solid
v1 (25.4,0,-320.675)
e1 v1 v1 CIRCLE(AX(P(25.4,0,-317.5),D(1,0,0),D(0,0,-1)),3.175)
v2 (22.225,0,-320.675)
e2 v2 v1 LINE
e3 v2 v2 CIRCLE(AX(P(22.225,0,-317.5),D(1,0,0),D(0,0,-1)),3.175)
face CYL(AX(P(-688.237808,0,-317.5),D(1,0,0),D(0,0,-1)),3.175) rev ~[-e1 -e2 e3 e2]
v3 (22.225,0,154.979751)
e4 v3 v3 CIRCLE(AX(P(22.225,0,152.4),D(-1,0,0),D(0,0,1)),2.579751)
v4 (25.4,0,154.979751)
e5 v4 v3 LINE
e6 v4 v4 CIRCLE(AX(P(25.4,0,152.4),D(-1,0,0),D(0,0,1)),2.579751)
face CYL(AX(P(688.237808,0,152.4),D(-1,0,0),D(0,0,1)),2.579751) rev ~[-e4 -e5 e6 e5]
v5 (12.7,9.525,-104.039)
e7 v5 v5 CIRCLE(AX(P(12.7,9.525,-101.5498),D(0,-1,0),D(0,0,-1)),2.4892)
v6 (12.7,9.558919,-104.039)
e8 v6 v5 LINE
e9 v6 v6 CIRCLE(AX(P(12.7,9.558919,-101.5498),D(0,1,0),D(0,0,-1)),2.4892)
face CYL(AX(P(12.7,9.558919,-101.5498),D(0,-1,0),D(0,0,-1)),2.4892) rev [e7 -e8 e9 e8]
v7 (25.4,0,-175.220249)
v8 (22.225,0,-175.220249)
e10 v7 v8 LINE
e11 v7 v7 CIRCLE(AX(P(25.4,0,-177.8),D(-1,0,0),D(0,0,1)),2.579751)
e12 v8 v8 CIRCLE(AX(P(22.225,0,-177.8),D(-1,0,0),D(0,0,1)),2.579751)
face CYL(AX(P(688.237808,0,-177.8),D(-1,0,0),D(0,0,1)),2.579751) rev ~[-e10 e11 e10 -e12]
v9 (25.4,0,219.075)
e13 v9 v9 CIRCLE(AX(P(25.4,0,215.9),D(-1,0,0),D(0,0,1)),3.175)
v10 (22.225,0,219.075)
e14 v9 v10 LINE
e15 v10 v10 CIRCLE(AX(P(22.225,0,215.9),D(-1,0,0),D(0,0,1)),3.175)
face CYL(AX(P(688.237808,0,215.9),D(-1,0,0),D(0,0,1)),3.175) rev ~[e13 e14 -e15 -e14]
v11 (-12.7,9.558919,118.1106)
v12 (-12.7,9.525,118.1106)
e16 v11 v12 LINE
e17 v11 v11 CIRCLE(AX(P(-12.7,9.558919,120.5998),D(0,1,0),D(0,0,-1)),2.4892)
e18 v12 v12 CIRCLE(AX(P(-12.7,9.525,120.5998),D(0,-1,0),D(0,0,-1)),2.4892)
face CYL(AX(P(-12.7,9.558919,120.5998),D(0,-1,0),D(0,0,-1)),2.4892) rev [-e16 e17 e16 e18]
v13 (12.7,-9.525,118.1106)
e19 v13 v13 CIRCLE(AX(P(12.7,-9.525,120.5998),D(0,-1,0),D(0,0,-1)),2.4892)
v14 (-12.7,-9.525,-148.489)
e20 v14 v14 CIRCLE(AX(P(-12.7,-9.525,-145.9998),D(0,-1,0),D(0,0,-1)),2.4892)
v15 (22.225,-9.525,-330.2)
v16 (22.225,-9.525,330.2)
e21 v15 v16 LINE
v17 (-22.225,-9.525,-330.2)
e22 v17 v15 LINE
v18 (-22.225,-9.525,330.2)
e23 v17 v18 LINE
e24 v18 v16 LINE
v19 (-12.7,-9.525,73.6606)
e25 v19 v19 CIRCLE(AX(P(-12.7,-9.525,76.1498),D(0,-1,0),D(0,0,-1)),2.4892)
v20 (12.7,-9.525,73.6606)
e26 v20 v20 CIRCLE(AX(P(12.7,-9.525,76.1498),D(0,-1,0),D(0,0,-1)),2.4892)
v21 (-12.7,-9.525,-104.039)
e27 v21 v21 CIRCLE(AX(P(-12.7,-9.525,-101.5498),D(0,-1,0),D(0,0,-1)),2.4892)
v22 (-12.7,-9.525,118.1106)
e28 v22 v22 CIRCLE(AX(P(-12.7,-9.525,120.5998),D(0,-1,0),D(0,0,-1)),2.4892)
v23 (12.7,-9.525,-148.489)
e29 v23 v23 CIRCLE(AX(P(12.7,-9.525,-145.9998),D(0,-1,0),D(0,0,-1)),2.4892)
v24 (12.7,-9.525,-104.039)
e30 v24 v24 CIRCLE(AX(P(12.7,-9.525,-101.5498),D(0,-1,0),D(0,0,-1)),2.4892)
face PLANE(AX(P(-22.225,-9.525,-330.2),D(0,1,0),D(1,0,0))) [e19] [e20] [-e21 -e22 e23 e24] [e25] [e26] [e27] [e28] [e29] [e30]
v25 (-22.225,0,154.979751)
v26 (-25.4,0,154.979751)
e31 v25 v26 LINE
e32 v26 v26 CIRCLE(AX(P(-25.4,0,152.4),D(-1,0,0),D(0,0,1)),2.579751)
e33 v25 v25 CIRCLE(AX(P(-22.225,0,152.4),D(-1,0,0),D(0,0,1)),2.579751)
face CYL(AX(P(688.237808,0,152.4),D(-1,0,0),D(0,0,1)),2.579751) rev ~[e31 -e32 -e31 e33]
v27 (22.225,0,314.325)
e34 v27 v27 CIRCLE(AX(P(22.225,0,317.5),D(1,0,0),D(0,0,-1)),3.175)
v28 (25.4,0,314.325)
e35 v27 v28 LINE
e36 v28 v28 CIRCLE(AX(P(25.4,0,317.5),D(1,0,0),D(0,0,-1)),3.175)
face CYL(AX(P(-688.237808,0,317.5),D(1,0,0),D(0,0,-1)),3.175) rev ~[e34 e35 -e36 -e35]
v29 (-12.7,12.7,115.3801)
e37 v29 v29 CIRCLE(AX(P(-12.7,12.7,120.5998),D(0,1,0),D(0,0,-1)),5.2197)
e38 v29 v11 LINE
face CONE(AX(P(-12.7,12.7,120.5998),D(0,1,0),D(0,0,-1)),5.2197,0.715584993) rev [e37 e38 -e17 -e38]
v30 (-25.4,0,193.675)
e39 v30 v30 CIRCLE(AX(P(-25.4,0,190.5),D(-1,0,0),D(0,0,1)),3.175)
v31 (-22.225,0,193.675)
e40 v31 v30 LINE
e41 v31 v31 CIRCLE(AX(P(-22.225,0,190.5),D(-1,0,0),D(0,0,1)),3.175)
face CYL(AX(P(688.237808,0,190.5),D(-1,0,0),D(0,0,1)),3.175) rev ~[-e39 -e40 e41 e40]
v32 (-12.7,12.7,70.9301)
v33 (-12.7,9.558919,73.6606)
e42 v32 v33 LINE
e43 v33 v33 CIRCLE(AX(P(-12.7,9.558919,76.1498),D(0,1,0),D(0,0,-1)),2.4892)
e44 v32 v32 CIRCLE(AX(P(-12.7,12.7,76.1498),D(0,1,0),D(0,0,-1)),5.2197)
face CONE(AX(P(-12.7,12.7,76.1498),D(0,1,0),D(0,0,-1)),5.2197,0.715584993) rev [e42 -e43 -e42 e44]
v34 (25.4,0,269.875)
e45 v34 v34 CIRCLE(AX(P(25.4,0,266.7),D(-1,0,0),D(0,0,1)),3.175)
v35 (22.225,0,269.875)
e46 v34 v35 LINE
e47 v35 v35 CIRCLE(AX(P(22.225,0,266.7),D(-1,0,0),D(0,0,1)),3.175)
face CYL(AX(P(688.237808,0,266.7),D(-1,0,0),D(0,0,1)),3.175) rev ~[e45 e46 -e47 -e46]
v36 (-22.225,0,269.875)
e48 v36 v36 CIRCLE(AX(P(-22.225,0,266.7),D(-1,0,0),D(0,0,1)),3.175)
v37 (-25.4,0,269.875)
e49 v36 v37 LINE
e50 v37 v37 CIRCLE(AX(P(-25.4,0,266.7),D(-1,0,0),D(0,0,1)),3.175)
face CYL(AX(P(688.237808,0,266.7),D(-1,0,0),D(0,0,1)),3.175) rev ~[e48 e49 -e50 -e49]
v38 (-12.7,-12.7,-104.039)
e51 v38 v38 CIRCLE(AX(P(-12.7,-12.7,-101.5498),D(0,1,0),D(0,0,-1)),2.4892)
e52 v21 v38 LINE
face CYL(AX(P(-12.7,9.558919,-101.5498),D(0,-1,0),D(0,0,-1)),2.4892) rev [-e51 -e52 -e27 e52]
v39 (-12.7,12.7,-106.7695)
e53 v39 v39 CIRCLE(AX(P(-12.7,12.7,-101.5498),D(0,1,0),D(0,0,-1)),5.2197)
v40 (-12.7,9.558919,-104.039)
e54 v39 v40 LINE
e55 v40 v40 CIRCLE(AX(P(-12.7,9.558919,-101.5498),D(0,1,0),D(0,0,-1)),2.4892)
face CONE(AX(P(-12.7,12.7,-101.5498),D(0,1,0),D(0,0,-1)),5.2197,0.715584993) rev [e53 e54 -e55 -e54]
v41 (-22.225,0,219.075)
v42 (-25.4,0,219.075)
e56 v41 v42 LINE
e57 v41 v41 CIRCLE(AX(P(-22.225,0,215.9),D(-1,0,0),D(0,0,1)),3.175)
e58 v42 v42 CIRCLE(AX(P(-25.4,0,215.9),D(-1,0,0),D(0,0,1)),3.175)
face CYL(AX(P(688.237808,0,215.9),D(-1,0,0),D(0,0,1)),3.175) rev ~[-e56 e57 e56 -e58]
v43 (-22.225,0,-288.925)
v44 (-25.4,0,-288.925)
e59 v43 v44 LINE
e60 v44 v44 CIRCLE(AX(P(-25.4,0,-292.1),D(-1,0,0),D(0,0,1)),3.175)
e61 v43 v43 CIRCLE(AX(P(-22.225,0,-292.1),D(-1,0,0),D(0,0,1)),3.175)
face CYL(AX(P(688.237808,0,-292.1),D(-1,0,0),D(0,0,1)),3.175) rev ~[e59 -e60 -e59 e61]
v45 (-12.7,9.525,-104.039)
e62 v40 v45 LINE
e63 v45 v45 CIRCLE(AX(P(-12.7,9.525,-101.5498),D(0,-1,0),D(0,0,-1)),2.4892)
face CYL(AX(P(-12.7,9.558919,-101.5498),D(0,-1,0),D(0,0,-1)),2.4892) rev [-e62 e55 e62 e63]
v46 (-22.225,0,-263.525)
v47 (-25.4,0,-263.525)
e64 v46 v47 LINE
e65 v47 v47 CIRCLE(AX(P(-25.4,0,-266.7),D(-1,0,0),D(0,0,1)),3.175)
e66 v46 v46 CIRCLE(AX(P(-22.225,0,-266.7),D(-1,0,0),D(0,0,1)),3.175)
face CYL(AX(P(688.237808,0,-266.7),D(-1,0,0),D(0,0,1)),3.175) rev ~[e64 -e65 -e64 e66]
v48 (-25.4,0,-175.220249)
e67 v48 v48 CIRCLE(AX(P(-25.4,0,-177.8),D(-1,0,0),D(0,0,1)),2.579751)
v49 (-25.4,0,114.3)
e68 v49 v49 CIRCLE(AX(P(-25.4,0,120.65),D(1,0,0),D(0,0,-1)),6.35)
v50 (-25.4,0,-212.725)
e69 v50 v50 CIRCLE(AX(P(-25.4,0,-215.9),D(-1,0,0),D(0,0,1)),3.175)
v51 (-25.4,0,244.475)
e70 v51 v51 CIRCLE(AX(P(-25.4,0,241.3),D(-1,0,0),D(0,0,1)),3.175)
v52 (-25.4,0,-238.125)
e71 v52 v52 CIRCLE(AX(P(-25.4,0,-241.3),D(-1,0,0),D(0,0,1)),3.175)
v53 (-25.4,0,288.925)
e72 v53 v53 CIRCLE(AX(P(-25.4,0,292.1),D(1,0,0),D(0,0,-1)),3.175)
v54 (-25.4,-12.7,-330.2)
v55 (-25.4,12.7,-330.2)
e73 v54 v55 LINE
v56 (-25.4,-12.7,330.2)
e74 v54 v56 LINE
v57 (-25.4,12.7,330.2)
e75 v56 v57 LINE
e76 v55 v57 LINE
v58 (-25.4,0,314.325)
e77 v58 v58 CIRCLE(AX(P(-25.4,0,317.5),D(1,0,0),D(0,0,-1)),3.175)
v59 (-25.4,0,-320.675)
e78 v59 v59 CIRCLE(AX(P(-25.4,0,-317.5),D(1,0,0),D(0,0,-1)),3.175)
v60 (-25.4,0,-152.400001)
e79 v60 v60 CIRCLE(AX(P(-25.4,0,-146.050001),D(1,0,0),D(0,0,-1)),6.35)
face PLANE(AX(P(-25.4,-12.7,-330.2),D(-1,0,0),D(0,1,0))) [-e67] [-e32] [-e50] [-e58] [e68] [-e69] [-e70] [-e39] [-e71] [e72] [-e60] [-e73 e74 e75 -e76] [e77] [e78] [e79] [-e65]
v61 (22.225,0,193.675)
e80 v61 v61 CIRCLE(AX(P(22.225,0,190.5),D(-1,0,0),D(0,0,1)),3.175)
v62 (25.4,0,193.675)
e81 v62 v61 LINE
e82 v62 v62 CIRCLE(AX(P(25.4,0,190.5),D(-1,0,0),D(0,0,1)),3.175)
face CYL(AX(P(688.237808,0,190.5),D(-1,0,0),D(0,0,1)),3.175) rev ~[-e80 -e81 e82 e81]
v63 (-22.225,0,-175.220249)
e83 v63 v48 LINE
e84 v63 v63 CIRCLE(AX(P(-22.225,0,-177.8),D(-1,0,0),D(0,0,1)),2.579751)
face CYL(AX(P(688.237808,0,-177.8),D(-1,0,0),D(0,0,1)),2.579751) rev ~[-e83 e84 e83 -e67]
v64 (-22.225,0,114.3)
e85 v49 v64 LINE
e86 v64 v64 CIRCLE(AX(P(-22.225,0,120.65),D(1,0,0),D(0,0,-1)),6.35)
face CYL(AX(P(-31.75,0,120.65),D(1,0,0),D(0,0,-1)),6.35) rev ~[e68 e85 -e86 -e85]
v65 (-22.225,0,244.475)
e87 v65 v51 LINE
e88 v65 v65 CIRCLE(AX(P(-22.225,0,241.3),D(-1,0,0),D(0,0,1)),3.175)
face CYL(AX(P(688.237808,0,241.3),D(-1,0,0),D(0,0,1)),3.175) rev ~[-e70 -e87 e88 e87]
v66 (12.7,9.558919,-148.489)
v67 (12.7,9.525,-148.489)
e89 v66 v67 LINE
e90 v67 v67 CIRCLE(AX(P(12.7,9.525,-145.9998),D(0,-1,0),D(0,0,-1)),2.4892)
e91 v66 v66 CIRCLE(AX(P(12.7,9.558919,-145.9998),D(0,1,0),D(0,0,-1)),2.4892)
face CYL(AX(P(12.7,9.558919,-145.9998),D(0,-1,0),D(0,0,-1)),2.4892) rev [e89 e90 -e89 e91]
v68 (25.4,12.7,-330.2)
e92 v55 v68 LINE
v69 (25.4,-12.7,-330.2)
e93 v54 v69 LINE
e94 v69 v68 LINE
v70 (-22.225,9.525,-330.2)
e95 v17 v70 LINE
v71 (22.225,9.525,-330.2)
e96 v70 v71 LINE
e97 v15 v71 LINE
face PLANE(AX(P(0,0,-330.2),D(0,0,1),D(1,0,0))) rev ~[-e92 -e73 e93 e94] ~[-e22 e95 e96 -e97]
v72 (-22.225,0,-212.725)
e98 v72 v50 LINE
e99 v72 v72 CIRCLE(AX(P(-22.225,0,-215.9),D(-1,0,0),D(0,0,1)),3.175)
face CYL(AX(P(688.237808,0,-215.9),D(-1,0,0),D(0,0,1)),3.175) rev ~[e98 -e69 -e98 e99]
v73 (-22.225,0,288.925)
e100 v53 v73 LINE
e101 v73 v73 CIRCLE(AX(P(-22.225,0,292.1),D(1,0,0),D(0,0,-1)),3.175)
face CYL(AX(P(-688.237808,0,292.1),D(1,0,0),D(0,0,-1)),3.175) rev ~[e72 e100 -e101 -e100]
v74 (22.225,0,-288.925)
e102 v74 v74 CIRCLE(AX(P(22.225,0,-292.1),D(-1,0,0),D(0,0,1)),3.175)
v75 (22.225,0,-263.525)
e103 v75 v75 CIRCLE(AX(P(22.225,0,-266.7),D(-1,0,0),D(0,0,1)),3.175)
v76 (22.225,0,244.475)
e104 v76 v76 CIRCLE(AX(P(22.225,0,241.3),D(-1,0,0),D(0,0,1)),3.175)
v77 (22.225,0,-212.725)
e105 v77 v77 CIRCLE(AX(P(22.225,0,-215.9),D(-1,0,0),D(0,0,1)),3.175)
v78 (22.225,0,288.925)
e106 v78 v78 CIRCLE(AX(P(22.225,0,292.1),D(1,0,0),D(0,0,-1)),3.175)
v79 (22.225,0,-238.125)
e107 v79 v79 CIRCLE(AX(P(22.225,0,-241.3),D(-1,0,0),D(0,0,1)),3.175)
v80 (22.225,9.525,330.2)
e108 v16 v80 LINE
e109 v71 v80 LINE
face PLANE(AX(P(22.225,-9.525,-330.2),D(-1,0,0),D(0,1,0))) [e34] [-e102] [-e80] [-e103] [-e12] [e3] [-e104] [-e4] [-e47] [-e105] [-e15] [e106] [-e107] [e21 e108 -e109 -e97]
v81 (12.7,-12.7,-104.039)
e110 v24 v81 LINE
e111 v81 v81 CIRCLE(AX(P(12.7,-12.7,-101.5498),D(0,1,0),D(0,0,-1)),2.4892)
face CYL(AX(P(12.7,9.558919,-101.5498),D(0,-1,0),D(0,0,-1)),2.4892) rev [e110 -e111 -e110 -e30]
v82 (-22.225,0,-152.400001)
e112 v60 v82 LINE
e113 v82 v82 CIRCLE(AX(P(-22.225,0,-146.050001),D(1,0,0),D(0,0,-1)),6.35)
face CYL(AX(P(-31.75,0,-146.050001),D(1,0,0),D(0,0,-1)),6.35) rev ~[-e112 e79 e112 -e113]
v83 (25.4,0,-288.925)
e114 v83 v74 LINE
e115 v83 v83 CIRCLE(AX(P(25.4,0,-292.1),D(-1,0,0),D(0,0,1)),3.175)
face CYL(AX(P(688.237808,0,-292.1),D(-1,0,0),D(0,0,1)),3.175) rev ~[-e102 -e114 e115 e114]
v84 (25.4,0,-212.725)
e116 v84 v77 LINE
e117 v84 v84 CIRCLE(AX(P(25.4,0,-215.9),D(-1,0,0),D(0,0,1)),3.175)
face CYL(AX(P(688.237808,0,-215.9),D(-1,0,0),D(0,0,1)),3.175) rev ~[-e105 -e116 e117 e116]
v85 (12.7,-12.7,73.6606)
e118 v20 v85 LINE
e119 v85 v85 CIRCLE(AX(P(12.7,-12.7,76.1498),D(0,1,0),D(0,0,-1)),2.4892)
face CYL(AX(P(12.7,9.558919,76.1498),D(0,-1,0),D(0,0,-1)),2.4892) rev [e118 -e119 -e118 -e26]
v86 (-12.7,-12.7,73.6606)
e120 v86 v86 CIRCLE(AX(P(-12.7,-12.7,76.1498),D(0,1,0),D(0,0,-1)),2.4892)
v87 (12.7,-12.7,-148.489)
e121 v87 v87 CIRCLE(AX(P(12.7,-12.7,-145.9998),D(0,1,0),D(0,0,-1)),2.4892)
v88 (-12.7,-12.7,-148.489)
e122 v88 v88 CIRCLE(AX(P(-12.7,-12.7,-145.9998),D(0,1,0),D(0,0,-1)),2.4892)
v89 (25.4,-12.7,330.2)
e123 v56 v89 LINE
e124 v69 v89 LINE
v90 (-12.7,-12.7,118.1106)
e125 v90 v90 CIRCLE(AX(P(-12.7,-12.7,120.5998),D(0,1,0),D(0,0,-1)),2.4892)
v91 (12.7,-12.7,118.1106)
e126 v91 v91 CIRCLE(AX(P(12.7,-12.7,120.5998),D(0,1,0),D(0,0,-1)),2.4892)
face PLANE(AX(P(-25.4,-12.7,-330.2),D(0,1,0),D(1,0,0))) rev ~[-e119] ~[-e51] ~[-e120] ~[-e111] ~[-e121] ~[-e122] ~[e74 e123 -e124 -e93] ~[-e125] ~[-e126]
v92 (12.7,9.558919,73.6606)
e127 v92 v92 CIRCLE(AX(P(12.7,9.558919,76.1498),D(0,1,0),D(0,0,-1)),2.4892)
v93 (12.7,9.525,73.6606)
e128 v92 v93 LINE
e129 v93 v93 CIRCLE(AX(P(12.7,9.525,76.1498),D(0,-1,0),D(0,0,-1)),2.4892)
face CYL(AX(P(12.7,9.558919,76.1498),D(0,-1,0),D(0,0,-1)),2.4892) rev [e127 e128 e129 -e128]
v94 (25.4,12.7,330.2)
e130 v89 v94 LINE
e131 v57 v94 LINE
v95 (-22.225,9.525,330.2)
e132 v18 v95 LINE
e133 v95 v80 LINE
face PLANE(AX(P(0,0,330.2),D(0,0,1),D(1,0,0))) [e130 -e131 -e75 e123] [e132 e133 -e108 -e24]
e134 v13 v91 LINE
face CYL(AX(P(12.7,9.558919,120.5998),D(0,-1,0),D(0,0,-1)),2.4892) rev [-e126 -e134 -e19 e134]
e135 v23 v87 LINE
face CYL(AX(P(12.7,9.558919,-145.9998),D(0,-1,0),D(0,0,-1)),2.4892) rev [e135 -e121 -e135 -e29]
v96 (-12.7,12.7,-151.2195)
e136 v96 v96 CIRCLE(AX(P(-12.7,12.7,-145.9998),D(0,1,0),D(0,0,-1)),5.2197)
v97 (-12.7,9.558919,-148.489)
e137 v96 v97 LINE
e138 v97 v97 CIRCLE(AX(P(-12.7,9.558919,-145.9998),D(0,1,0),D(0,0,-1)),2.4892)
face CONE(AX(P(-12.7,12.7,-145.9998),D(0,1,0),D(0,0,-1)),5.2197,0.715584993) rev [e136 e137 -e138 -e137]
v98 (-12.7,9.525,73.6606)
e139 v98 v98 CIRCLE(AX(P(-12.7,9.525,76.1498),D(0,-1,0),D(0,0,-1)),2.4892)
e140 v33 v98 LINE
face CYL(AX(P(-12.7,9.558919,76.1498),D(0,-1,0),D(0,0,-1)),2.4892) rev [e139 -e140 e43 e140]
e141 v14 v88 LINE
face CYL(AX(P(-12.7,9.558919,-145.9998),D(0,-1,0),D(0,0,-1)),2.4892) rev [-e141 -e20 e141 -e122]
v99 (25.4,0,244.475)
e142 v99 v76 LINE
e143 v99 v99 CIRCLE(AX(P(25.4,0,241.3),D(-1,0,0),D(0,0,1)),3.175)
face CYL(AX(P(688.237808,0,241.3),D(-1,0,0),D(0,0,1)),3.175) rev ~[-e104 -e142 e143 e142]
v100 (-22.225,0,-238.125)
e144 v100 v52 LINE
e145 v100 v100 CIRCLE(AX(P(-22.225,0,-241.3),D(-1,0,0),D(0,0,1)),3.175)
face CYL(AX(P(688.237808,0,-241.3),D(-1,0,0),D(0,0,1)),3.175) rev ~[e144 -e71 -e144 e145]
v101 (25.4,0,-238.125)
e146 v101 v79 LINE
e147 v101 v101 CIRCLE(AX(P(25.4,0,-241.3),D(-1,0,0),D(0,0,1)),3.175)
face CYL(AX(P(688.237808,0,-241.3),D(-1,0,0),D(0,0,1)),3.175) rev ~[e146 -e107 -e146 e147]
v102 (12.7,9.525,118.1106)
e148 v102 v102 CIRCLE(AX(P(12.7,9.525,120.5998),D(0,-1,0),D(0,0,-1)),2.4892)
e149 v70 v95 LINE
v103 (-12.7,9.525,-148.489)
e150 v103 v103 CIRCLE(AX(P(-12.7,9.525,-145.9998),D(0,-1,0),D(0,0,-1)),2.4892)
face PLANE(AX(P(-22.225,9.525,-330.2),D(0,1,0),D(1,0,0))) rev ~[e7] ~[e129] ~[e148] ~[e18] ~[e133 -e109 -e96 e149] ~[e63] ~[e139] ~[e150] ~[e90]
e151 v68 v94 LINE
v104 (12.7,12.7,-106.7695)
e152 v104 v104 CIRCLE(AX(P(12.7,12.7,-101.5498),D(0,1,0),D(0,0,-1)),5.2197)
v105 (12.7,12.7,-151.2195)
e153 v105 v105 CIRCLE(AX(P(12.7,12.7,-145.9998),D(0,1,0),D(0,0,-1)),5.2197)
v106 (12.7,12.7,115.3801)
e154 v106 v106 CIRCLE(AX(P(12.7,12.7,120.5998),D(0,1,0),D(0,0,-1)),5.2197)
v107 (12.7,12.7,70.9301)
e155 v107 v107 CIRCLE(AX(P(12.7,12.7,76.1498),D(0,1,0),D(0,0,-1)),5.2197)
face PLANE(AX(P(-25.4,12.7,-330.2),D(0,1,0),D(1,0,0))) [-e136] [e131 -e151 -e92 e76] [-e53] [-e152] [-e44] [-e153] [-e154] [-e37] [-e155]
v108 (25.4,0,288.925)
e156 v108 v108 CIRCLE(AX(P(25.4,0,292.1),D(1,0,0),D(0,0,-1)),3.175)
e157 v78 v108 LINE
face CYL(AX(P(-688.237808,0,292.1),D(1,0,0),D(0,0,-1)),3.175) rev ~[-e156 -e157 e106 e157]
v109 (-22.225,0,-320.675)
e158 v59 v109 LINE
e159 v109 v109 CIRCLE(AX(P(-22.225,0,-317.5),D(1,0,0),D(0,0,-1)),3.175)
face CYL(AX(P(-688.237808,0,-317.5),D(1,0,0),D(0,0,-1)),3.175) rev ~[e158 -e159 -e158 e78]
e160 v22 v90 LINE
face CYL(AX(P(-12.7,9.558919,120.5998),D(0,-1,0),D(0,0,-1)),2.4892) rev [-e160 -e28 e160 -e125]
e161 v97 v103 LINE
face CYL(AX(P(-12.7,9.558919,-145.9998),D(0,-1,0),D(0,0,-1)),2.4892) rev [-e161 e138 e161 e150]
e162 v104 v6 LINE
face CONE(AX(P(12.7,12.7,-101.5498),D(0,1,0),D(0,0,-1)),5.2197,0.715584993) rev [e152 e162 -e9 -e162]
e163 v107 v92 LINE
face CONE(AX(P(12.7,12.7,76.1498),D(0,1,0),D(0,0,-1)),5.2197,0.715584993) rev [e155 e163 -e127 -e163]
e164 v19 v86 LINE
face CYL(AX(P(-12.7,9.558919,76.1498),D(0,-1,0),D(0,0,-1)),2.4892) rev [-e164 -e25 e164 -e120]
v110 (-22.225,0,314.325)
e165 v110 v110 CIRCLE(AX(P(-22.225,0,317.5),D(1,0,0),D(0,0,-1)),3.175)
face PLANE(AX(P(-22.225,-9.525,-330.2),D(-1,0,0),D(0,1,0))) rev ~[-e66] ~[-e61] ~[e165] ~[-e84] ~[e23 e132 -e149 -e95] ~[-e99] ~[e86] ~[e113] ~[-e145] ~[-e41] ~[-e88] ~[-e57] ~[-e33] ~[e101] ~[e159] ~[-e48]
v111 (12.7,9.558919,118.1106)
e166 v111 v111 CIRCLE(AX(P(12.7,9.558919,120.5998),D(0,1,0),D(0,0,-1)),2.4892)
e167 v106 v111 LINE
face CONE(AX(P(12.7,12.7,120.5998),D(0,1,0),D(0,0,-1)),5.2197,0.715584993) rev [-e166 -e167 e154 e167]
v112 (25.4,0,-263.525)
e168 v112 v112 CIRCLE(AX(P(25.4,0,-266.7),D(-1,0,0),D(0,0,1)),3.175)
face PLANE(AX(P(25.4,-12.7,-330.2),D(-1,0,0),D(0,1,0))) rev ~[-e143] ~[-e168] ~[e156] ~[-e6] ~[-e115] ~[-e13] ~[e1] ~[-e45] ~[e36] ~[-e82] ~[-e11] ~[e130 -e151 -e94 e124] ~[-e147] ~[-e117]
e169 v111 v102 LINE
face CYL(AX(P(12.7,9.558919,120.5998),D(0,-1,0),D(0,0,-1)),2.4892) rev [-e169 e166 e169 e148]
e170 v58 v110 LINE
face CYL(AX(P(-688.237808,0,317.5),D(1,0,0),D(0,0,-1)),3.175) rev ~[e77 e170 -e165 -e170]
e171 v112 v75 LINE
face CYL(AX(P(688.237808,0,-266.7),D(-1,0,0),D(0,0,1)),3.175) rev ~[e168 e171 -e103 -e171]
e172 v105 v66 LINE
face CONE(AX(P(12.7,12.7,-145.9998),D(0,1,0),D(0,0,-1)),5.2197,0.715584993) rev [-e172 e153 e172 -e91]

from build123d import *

# Parameters (mm, degrees)
BOSS_EXTRUDE1_DEPTH              = 330.2
BOSS_EXTRUDE1_DEPTH_BACK         = 330.2
SKETCH3_W                        = 50.8
SKETCH3_H                        = 25.4
SKETCH3_W_2                      = 44.45
SKETCH3_H_2                      = 19.05
F_1_4_0_25_DIAMETER_HOLE3_D      = 6.35
F_1_4_0_25_DIAMETER_HOLE4_D      = 6.35
F_1_4_0_25_DIAMETER_HOLE5_D      = 6.35
F_1_4_0_25_DIAMETER_HOLE6_D      = 6.35
F_1_4_0_25_DIAMETER_HOLE7_D      = 6.35
F_1_4_0_25_DIAMETER_HOLE8_D      = 6.35
F_13_64_0_20313_DIAMETER_HOLE1_D = 5.159502
F_1_2_0_5_DIAMETER_HOLE1_D       = 12.7
F_1_2_0_5_DIAMETER_HOLE1_DEPTH   = 6.35
F_1_2_0_5_DIAMETER_HOLE1_TIP     = 3.815464931
F_10_CLEARANCE_HOLE1_AT_2_COUNT  = 2
F_10_CLEARANCE_HOLE1_AT_2_PITCH  = 25.4
F_10_CLEARANCE_HOLE1_AT_3_COUNT  = 2
F_10_CLEARANCE_HOLE1_AT_3_PITCH  = 51.195336702
F_10_CLEARANCE_HOLE1_AT_4_COUNT  = 2
F_10_CLEARANCE_HOLE1_AT_4_PITCH  = 44.45
F_10_CLEARANCE_HOLE1_AT_5_COUNT  = 2
F_10_CLEARANCE_HOLE1_AT_5_PITCH  = 223.596969524
F_10_CLEARANCE_HOLE1_AT_6_COUNT  = 2
F_10_CLEARANCE_HOLE1_AT_6_PITCH  = 222.1496
F_10_CLEARANCE_HOLE1_AT_7_COUNT  = 2
F_10_CLEARANCE_HOLE1_AT_7_PITCH  = 266.5996
F_10_CLEARANCE_HOLE1_AT_8_COUNT  = 2
F_10_CLEARANCE_HOLE1_AT_8_PITCH  = 267.806845917


with BuildPart() as part:
    # Sketch3 → Boss-Extrude1 (new, two sides: drawn at the far end of the back side and taken through both)
    with BuildSketch(Plane.XY.offset(-BOSS_EXTRUDE1_DEPTH_BACK)):
        Rectangle(SKETCH3_W, SKETCH3_H)
        Rectangle(SKETCH3_W_2, SKETCH3_H_2, mode=Mode.SUBTRACT)
    extrude(amount=BOSS_EXTRUDE1_DEPTH + BOSS_EXTRUDE1_DEPTH_BACK)

    # 1/4 (0.25) Diameter Hole3 (through all)
    with Locations(Plane.ZY.offset(25.4)):
        with Locations((-317.5, 0)):
            Hole(F_1_4_0_25_DIAMETER_HOLE3_D / 2)

    # 1/4 (0.25) Diameter Hole4 (through all)
    with Locations(Plane.ZY.offset(25.4)):
        with Locations((292.1, 0), (317.5, 0)):
            Hole(F_1_4_0_25_DIAMETER_HOLE4_D / 2)

    # 1/4 (0.25) Diameter Hole5 (through all)
    with Locations(Plane(origin=(25.4, 0, 0), x_dir=(0, 0, -1), z_dir=(1, 0, 0))):
        with Locations((292.1, 0), (266.7, 0)):
            Hole(F_1_4_0_25_DIAMETER_HOLE5_D / 2)

    # 1/4 (0.25) Diameter Hole6 (through all)
    with Locations(Plane(origin=(25.4, 0, 0), x_dir=(0, 0, -1), z_dir=(1, 0, 0))):
        with Locations((215.9, 0), (241.3, 0)):
            Hole(F_1_4_0_25_DIAMETER_HOLE6_D / 2)

    # 1/4 (0.25) Diameter Hole7 (through all)
    with Locations(Plane(origin=(25.4, 0, 0), x_dir=(0, 0, -1), z_dir=(1, 0, 0))):
        with Locations((-190.5, 0), (-215.9, 0)):
            Hole(F_1_4_0_25_DIAMETER_HOLE7_D / 2)

    # 1/4 (0.25) Diameter Hole8 (through all)
    with Locations(Plane(origin=(25.4, 0, 0), x_dir=(0, 0, -1), z_dir=(1, 0, 0))):
        with Locations((-266.7, 0), (-241.3, 0)):
            Hole(F_1_4_0_25_DIAMETER_HOLE8_D / 2)

    # 13/64 (0.20313) Diameter Hole1 (through all)
    with Locations(Plane(origin=(25.4, 0, 0), x_dir=(0, 0, -1), z_dir=(1, 0, 0))):
        with Locations((-152.4, 0), (177.8, 0)):
            Hole(F_13_64_0_20313_DIAMETER_HOLE1_D / 2)

    # 1/2 (0.5) Diameter Hole1
    with Locations(Plane.ZY.offset(25.4)):
        with Locations((-146.050000508, 4.9e-08), (120.65, 1.7e-08)):
            Hole(F_1_2_0_5_DIAMETER_HOLE1_D / 2, depth=F_1_2_0_5_DIAMETER_HOLE1_DEPTH)
            with Locations((0, 0, -(F_1_2_0_5_DIAMETER_HOLE1_DEPTH + F_1_2_0_5_DIAMETER_HOLE1_TIP / 2))):  # 118° drill point
                Cone(0, F_1_2_0_5_DIAMETER_HOLE1_D / 2, F_1_2_0_5_DIAMETER_HOLE1_TIP, mode=Mode.SUBTRACT)

    # Sketch40 → #10 Clearance Hole1 (revolve, cut)
    with BuildSketch(Plane(origin=(-12.7, -12.7, -145.9998), x_dir=(0, 0, -1), z_dir=(1, 0, 0))):
        Polygon((0, 0), (0, 25.4), (5.2197, 25.4), (2.4892, 22.258919064), (2.4892, 0), align=None)
    f_10_clearance_hole1 = revolve(axis=Axis((-12.7, -19.05, -145.9998), (0, 1, 0)), mode=Mode.SUBTRACT)

    # #10 Clearance Hole1 at 2: #10 Clearance Hole1 ×2
    with Locations(*[(i * F_10_CLEARANCE_HOLE1_AT_2_PITCH, 0, 0) for i in range(1, F_10_CLEARANCE_HOLE1_AT_2_COUNT)]):
        add(f_10_clearance_hole1, mode=Mode.SUBTRACT)

    # #10 Clearance Hole1 at 3: #10 Clearance Hole1 ×2
    with Locations(*[Vector(0.4961389383568339, 0, 0.8682431421244592) * (i * F_10_CLEARANCE_HOLE1_AT_3_PITCH) for i in range(1, F_10_CLEARANCE_HOLE1_AT_3_COUNT)]):
        add(f_10_clearance_hole1, mode=Mode.SUBTRACT)

    # #10 Clearance Hole1 at 4: #10 Clearance Hole1 ×2
    with Locations(*[(0, 0, i * F_10_CLEARANCE_HOLE1_AT_4_PITCH) for i in range(1, F_10_CLEARANCE_HOLE1_AT_4_COUNT)]):
        add(f_10_clearance_hole1, mode=Mode.SUBTRACT)

    # #10 Clearance Hole1 at 5: #10 Clearance Hole1 ×2
    with Locations(*[Vector(0.11359724621542587, 0, 0.9935268821991039) * (i * F_10_CLEARANCE_HOLE1_AT_5_PITCH) for i in range(1, F_10_CLEARANCE_HOLE1_AT_5_COUNT)]):
        add(f_10_clearance_hole1, mode=Mode.SUBTRACT)

    # #10 Clearance Hole1 at 6: #10 Clearance Hole1 ×2
    with Locations(*[(0, 0, i * F_10_CLEARANCE_HOLE1_AT_6_PITCH) for i in range(1, F_10_CLEARANCE_HOLE1_AT_6_COUNT)]):
        add(f_10_clearance_hole1, mode=Mode.SUBTRACT)

    # #10 Clearance Hole1 at 7: #10 Clearance Hole1 ×2
    with Locations(*[(0, 0, i * F_10_CLEARANCE_HOLE1_AT_7_PITCH) for i in range(1, F_10_CLEARANCE_HOLE1_AT_7_COUNT)]):
        add(f_10_clearance_hole1, mode=Mode.SUBTRACT)

    # #10 Clearance Hole1 at 8: #10 Clearance Hole1 ×2
    with Locations(*[Vector(0.09484447611114116, 0, 0.9954921021038807) * (i * F_10_CLEARANCE_HOLE1_AT_8_PITCH) for i in range(1, F_10_CLEARANCE_HOLE1_AT_8_COUNT)]):
        add(f_10_clearance_hole1, mode=Mode.SUBTRACT)


solid = part.part
